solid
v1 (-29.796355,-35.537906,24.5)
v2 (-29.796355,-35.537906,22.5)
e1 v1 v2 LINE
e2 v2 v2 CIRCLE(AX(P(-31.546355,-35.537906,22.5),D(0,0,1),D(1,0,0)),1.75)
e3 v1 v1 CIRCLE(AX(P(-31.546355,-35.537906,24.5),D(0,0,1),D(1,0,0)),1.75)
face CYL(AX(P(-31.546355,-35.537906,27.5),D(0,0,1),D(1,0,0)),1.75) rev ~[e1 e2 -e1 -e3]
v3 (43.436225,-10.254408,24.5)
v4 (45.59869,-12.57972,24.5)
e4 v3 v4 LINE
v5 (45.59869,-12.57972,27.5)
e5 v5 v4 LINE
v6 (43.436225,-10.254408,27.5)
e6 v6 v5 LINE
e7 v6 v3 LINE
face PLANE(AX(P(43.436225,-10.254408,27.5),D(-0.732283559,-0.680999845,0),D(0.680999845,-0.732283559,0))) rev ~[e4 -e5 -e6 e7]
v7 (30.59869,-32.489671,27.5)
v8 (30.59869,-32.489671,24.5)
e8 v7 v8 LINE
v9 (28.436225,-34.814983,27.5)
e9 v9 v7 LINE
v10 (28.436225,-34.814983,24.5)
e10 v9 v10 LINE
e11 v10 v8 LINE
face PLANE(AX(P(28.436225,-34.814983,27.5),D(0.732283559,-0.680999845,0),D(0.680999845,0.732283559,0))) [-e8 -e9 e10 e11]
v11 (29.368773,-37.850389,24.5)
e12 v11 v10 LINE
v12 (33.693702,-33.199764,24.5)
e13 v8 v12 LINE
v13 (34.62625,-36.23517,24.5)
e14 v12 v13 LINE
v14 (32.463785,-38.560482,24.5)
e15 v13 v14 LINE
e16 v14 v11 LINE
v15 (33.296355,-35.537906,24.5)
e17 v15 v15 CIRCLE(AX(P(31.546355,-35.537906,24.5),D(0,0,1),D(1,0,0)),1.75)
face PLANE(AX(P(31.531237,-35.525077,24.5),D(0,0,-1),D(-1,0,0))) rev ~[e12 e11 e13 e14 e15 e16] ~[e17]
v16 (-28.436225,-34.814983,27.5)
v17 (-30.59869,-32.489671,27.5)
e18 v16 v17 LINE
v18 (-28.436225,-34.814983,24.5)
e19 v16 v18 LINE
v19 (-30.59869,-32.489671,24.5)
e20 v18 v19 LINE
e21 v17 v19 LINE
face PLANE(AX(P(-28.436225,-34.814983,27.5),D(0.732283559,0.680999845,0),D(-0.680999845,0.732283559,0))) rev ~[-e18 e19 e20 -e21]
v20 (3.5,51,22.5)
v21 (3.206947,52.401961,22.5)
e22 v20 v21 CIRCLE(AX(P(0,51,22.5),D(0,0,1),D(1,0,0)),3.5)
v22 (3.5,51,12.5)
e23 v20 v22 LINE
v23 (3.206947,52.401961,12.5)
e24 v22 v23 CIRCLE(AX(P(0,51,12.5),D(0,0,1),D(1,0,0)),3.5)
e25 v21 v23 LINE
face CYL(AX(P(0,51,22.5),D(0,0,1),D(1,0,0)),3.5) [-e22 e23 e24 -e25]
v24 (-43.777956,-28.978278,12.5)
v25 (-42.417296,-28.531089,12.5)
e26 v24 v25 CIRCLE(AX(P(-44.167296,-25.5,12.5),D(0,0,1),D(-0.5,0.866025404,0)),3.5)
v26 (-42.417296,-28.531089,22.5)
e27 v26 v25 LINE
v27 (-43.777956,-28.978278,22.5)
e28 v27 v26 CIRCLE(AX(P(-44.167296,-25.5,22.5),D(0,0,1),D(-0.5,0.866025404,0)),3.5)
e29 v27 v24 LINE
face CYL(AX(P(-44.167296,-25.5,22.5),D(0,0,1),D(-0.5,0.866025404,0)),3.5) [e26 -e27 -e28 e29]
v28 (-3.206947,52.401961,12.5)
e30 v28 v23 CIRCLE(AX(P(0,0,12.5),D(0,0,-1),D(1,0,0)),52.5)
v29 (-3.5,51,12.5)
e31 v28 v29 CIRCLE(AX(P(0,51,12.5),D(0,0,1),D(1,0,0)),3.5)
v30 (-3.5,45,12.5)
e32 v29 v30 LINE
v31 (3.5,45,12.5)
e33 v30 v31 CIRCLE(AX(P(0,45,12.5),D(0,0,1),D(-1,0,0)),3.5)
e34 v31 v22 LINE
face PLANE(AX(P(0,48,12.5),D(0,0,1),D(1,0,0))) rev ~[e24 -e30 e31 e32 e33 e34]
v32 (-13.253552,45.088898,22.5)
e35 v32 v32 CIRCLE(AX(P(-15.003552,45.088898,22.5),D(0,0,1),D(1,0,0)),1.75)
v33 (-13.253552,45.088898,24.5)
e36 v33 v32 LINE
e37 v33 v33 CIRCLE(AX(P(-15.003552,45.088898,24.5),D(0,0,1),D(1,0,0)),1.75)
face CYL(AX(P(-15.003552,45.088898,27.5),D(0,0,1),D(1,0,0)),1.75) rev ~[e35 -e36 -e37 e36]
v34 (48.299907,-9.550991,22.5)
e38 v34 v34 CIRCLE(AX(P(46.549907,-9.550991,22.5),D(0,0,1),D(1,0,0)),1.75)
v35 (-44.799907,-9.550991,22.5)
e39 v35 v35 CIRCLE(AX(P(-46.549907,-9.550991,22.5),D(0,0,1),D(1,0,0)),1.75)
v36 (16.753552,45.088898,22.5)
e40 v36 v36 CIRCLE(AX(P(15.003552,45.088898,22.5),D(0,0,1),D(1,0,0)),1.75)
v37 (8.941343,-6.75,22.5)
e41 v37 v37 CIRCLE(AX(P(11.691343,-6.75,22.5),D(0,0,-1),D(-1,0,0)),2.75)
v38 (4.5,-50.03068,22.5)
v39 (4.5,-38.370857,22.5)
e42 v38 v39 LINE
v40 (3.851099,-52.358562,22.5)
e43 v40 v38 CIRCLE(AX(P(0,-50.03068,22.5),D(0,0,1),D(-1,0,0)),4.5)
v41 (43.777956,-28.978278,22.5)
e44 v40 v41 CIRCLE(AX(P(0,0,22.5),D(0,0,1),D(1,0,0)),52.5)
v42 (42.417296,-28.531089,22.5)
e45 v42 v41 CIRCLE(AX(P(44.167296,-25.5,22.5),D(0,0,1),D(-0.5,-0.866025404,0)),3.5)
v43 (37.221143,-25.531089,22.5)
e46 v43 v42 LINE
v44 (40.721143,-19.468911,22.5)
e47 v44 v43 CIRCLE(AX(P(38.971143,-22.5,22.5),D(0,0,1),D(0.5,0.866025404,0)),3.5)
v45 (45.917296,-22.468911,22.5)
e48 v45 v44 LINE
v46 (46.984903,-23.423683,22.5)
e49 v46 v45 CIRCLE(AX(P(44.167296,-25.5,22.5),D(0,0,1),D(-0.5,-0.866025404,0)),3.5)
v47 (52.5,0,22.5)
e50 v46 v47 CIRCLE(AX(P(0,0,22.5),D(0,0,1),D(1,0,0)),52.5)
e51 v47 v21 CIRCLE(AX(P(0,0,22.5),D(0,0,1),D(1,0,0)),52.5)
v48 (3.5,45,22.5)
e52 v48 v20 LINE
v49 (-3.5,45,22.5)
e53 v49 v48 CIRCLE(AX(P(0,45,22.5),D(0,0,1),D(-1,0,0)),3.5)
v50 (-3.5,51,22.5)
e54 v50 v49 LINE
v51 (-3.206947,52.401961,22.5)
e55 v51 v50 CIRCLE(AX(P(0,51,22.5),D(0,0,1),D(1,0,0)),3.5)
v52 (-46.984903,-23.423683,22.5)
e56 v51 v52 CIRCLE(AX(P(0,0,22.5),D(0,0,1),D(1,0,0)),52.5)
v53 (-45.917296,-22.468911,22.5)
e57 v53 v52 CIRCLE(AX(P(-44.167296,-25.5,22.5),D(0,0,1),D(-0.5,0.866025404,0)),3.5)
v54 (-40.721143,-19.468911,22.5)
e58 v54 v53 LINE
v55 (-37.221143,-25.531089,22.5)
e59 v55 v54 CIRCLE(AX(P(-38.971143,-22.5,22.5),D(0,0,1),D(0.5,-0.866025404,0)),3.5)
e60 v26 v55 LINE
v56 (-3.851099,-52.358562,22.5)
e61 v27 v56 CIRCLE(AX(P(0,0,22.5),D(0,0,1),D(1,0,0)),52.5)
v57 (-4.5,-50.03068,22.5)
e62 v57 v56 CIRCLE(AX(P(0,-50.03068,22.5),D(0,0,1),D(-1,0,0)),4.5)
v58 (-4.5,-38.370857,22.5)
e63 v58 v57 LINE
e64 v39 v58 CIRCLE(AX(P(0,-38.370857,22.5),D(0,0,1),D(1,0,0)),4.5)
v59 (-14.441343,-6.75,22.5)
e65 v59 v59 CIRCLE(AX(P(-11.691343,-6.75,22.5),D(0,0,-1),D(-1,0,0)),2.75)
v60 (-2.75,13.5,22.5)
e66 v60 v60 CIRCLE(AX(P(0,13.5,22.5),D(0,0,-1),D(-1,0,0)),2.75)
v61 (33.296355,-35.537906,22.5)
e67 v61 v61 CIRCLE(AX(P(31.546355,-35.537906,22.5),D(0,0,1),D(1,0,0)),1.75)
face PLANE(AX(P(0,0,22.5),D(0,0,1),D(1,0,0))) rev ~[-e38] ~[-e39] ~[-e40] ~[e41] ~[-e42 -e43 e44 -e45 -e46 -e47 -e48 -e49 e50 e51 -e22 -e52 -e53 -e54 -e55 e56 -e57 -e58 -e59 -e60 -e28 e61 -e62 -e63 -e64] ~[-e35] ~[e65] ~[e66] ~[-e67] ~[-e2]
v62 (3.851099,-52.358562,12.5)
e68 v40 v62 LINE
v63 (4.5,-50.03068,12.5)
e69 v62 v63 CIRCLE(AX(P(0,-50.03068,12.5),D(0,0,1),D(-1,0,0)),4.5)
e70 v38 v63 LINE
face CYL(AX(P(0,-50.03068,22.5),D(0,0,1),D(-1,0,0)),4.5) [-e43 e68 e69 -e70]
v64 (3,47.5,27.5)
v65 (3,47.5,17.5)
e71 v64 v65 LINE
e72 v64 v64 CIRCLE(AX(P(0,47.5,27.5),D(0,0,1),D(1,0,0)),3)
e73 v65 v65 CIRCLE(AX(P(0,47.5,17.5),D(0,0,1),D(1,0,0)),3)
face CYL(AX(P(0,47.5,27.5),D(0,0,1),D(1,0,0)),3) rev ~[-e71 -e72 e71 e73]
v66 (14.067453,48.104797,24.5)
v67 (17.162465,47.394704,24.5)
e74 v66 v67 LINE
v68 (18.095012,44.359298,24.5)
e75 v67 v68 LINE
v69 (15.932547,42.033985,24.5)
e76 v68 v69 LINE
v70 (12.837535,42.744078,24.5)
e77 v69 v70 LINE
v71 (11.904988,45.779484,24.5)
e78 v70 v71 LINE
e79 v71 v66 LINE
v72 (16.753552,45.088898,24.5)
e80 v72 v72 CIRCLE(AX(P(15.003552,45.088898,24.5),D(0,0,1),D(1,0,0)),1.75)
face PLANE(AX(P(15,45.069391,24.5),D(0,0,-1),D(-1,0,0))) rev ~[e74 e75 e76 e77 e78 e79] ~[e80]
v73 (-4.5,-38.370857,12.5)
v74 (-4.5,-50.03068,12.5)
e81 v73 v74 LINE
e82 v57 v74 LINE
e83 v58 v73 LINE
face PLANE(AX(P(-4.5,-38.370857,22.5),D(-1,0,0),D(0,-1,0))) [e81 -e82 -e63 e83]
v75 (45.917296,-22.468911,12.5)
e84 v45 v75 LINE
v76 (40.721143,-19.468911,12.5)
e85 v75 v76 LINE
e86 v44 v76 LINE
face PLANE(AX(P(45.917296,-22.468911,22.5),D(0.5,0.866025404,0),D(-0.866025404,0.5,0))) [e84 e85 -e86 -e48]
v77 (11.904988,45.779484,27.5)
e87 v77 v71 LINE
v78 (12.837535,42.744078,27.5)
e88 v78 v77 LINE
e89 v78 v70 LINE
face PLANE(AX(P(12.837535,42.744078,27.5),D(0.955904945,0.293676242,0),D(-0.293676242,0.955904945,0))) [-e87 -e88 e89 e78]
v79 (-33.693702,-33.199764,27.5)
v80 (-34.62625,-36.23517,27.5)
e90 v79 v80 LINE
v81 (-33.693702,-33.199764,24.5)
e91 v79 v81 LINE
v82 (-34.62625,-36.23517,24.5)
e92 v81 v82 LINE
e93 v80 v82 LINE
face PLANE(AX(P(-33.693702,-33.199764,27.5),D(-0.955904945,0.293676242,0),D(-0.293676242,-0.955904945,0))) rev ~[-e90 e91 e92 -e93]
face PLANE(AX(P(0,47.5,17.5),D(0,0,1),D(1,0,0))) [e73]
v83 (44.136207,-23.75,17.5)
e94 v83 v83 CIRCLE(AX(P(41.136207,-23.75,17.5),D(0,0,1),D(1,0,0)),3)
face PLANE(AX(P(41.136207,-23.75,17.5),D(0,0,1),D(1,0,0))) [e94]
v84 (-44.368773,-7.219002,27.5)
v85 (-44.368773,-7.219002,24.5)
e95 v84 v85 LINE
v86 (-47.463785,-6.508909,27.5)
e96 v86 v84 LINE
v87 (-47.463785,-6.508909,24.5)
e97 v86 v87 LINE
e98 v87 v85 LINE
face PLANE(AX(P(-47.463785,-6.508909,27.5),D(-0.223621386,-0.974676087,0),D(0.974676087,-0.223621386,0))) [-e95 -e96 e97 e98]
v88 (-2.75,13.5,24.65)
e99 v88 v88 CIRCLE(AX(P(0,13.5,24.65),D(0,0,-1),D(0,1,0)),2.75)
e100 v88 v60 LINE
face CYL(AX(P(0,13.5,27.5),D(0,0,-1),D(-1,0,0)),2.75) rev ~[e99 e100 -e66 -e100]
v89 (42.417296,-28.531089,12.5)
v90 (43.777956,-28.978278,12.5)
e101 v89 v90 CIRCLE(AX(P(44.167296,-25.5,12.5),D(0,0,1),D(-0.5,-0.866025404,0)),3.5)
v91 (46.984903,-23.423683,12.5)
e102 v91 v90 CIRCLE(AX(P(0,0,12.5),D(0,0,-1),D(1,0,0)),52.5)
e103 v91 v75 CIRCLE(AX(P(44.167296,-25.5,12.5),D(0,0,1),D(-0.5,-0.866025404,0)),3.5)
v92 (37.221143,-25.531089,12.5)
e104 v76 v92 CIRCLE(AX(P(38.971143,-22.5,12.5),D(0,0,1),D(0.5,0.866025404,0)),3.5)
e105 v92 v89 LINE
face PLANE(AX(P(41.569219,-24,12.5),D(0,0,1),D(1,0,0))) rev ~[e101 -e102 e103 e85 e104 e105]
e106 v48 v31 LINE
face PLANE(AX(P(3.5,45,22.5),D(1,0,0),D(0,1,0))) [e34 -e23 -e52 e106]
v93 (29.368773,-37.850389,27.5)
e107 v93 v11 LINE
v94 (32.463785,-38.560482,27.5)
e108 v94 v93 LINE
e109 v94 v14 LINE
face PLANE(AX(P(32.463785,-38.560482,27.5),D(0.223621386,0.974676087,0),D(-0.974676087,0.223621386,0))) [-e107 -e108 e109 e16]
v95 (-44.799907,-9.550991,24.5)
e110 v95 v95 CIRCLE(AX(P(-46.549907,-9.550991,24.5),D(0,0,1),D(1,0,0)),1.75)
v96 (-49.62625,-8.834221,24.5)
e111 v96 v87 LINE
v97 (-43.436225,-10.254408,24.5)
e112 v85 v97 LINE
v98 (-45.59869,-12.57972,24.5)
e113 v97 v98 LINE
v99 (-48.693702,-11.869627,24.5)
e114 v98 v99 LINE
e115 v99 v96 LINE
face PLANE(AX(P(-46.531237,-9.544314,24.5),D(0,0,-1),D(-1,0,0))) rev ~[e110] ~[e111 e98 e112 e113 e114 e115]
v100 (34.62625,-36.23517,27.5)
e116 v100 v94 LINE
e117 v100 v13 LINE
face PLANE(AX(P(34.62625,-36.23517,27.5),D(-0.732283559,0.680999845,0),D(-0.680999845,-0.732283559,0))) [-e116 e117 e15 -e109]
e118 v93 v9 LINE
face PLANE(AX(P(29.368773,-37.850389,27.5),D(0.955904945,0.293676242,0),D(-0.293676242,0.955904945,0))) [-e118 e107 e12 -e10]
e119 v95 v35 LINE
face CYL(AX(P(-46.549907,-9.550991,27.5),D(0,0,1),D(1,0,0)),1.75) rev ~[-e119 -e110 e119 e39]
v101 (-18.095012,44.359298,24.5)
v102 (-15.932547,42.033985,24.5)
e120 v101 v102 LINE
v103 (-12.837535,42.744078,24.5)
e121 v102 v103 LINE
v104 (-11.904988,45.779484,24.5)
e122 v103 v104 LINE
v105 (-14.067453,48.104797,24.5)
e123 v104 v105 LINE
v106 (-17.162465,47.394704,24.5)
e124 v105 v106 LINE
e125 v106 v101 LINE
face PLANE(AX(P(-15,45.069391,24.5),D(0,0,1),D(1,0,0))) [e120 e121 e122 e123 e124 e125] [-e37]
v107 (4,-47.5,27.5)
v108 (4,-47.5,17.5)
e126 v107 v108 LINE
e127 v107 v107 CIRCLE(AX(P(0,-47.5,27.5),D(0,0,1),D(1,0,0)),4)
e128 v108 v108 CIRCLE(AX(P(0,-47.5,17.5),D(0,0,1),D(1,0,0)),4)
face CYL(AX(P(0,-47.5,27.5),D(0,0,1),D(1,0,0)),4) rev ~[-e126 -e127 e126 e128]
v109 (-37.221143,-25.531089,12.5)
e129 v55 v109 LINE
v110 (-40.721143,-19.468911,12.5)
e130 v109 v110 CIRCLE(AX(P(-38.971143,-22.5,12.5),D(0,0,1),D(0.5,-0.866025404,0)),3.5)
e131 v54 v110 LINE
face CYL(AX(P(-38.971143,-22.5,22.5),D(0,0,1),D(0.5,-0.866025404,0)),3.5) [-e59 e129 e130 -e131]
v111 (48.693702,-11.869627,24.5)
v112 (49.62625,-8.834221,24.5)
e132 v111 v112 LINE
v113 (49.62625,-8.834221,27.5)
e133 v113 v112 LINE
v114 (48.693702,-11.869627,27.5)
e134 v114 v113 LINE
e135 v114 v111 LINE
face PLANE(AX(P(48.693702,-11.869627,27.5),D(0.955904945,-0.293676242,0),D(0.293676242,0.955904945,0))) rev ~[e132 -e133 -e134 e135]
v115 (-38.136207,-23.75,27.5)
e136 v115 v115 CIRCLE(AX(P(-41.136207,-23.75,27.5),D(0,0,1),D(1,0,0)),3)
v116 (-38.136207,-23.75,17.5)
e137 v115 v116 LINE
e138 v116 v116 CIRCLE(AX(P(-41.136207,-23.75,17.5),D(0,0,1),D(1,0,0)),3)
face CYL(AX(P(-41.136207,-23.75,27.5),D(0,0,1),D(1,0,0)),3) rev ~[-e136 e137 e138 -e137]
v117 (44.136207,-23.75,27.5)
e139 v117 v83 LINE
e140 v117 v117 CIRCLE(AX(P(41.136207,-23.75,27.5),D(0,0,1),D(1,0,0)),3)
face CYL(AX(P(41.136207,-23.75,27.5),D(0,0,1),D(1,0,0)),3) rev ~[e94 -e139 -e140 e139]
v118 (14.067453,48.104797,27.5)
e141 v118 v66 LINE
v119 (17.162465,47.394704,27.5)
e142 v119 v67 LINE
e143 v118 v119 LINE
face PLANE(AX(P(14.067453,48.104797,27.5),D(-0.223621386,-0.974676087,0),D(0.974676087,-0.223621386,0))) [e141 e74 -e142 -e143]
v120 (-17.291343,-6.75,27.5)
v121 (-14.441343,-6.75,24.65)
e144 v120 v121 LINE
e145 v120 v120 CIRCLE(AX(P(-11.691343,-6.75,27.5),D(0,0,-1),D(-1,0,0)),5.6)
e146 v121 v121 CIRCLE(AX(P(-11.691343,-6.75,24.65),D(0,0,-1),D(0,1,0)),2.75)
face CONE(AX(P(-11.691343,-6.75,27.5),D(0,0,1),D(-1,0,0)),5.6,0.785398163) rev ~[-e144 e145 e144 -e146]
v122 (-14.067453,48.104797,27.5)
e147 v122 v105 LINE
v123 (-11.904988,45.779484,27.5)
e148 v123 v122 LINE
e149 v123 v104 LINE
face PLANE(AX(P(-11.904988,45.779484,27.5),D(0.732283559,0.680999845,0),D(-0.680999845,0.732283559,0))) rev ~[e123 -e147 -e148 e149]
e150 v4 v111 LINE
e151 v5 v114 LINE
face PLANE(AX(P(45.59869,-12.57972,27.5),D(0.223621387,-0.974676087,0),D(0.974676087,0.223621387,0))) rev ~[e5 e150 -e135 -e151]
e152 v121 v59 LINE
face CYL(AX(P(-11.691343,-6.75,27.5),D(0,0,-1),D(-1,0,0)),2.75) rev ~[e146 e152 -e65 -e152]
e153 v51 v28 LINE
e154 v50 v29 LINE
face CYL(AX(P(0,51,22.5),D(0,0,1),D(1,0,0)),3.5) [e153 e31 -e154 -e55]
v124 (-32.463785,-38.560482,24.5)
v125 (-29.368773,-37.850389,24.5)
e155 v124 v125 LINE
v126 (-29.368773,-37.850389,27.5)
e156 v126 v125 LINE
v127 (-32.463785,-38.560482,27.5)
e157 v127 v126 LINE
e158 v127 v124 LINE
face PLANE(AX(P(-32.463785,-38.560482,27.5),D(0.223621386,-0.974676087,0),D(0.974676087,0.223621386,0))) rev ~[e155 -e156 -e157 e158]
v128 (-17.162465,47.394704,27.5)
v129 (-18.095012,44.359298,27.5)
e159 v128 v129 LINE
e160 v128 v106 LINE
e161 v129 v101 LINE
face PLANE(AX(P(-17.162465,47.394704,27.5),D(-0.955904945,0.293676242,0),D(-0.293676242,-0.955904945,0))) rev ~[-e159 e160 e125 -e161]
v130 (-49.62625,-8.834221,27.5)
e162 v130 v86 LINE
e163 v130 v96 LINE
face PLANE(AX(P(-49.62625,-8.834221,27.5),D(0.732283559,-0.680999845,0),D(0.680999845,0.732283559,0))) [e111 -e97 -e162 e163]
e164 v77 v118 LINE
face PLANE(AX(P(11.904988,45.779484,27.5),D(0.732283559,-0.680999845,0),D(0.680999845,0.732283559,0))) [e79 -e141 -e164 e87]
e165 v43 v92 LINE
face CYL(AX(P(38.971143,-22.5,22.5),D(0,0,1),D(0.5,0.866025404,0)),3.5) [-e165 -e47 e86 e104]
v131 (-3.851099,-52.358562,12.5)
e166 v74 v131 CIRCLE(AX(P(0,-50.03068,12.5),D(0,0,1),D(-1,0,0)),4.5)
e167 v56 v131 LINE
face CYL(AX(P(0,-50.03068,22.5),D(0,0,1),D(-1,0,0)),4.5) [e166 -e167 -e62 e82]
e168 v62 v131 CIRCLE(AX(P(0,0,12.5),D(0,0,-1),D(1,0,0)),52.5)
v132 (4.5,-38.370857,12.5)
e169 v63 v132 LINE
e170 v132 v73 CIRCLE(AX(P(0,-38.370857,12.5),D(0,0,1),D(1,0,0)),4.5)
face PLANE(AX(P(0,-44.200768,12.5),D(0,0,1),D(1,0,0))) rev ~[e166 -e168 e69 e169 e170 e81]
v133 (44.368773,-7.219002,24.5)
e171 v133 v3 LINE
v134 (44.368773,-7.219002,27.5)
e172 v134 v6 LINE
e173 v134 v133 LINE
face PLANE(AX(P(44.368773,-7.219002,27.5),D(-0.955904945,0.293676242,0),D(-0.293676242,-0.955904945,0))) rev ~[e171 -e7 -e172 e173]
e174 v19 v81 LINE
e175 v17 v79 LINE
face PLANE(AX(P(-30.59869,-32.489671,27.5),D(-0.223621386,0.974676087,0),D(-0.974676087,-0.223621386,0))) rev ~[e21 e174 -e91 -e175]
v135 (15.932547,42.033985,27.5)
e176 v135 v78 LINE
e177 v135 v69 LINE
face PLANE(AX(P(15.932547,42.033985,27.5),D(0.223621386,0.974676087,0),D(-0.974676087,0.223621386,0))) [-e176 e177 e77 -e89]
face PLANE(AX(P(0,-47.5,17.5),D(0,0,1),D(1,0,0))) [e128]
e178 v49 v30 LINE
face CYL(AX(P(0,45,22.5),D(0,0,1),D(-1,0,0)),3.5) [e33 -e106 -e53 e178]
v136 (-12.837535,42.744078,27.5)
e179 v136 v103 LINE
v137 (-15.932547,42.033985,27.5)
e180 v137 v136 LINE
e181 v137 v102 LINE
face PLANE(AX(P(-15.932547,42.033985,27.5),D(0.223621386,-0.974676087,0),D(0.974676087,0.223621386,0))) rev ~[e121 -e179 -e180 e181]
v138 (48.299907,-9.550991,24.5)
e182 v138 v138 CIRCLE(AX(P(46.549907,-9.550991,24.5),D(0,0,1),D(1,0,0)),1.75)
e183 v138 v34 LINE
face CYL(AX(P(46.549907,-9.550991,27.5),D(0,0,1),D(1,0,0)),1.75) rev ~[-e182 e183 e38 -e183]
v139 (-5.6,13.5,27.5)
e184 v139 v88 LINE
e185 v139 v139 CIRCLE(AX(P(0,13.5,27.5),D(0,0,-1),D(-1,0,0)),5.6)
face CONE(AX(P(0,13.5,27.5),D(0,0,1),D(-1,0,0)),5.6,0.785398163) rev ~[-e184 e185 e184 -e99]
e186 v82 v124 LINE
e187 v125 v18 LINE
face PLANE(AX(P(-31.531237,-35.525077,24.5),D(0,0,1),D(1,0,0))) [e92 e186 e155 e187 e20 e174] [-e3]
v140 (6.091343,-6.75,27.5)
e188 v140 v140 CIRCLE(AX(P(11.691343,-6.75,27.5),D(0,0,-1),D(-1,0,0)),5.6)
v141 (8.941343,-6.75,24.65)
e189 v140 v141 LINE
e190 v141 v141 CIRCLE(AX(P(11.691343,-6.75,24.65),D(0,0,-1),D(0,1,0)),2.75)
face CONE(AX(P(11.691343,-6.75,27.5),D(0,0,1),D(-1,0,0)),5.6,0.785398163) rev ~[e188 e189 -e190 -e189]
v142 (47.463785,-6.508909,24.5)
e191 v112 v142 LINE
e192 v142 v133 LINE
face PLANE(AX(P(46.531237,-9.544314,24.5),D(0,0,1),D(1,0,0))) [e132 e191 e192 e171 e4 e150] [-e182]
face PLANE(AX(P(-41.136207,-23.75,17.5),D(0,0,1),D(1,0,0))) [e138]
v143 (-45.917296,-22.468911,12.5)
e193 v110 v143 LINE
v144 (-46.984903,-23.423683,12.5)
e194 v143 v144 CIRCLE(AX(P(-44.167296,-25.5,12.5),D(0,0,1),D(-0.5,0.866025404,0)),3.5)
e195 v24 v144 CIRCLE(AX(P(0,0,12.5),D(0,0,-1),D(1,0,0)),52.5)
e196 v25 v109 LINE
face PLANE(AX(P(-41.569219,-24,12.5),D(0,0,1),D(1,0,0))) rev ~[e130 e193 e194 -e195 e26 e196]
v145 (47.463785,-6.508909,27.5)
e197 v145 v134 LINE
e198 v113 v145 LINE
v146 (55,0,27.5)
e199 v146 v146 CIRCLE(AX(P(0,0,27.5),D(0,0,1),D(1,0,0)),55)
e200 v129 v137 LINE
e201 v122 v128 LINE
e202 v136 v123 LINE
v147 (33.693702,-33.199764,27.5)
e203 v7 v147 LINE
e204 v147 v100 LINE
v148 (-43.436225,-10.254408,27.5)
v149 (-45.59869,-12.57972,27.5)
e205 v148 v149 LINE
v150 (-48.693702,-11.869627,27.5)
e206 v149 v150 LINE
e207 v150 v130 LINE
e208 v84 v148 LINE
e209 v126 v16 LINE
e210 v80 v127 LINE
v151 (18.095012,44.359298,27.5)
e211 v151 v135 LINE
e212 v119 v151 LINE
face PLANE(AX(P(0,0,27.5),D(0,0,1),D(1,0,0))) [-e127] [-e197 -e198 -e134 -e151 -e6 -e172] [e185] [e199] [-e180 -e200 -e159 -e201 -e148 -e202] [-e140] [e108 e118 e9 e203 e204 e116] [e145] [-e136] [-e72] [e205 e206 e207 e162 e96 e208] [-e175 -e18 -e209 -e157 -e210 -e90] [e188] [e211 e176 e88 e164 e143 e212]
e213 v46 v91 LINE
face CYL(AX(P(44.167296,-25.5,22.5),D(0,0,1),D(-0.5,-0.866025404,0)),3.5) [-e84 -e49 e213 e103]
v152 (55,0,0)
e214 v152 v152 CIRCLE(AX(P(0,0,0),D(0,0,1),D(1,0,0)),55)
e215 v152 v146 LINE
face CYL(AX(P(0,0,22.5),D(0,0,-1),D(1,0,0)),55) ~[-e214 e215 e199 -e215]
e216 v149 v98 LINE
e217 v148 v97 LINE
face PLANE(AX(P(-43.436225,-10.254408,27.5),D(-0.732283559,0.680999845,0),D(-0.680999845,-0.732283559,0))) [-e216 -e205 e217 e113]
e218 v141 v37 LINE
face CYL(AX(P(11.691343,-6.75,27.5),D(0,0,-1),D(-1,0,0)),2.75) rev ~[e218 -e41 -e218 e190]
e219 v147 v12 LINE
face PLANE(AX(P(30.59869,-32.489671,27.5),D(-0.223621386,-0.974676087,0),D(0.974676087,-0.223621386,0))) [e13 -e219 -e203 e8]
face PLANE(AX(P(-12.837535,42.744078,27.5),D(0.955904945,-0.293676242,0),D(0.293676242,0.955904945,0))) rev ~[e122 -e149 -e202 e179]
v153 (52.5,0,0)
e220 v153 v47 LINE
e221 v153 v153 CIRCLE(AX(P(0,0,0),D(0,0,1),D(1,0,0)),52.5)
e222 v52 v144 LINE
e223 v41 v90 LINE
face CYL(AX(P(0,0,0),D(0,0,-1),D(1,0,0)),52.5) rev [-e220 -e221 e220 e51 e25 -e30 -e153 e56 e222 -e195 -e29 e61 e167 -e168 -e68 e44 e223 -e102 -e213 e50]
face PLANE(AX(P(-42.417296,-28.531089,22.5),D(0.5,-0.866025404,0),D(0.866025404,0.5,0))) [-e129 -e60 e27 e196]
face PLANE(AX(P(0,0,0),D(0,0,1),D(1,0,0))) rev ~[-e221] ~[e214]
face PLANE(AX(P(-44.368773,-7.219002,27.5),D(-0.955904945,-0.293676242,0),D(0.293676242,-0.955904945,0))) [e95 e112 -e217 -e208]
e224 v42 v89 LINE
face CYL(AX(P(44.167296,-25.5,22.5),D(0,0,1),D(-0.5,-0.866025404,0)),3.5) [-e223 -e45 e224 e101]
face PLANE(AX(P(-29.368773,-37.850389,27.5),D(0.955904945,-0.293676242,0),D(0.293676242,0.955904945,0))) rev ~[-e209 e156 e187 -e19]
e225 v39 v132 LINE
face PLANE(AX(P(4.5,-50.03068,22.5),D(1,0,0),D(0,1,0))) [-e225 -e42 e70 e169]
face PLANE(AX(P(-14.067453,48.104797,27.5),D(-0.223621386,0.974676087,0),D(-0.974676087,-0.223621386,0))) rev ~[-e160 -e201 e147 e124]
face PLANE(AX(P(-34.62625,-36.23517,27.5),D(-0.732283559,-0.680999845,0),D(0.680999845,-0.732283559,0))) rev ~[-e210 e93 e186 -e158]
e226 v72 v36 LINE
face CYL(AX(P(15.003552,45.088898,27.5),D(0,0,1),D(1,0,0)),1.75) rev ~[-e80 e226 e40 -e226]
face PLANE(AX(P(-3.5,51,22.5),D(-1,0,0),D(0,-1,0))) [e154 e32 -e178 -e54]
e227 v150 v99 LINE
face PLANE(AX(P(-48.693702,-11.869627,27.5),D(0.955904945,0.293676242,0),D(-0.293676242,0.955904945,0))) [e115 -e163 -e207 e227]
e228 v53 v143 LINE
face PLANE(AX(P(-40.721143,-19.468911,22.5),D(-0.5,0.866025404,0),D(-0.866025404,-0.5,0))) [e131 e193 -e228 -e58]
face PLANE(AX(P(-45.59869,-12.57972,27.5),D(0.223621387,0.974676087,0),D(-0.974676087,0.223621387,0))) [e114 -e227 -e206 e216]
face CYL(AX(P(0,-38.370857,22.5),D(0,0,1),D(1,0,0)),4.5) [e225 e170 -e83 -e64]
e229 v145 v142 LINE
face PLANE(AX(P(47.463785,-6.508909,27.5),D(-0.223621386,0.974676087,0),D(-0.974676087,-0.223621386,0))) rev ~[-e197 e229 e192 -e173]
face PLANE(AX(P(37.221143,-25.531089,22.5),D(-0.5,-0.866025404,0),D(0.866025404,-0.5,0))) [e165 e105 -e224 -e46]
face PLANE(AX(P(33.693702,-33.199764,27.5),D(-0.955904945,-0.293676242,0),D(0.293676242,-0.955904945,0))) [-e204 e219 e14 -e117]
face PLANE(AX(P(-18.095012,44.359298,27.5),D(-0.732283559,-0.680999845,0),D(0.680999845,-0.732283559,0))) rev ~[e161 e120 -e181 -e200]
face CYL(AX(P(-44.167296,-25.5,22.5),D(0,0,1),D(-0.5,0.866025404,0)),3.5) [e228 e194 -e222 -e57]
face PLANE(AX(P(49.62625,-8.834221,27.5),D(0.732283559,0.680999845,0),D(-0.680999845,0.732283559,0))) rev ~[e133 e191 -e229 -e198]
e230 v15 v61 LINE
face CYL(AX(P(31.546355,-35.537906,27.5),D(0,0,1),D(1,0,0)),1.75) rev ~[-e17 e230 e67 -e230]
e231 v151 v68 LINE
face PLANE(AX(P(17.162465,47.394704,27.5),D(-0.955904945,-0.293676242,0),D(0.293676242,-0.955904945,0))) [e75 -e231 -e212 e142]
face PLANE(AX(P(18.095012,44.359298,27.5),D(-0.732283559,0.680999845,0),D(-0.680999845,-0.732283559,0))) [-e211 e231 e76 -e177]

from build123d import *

# Parameters (mm, degrees)
CROQUIS1_R                                           = 55
CROQUIS1_R_2                                         = 52.5
SALIENTE_EXTRUIR1_DEPTH                              = 22.5
CROQUIS2_R                                           = 55
SALIENTE_EXTRUIR2_DEPTH                              = 5
REFRENTADO_PARA_TORNILLO_TAP_N_CON_CABEZ_D           = 5.5
REFRENTADO_PARA_TORNILLO_TAP_N_CON_CABEZ_CSINK_D     = 11.2
REFRENTADO_PARA_TORNILLO_TAP_N_CON_CABEZ_CSINK_ANGLE = 90
SALIENTE_EXTRUIR8_DEPTH                              = 10
CROQUIS12_R                                          = 3
CROQUIS12_R_2                                        = 4
CORTAR_EXTRUIR4_DEPTH                                = 10
CORTAR_EXTRUIR6_DEPTH                                = 3
CROQUIS16_R                                          = 1.75
CORTAR_EXTRUIR7_DEPTH                                = 5


with BuildPart() as part:
    # Croquis1 → Saliente-Extruir1 (new body)
    with BuildSketch(Plane.XY):
        Circle(CROQUIS1_R)
        Circle(CROQUIS1_R_2, mode=Mode.SUBTRACT)
    extrude(amount=SALIENTE_EXTRUIR1_DEPTH)

    # Croquis2 → Saliente-Extruir2 (add)
    with BuildSketch(Plane.XY.offset(22.5)):
        Circle(CROQUIS2_R)
    extrude(amount=SALIENTE_EXTRUIR2_DEPTH)

    # Refrentado para tornillo tapón con cabeza plana de clavija de M51 (through all)
    with Locations(Plane.XY.offset(27.5)):
        with Locations((0, 13.5), (-11.691342951, -6.75), (11.691342951, -6.75)):
            CounterSinkHole(REFRENTADO_PARA_TORNILLO_TAP_N_CON_CABEZ_D / 2, REFRENTADO_PARA_TORNILLO_TAP_N_CON_CABEZ_CSINK_D / 2, counter_sink_angle=REFRENTADO_PARA_TORNILLO_TAP_N_CON_CABEZ_CSINK_ANGLE)

    # Croquis10 → Saliente-Extruir8 (add)
    with BuildSketch(Plane(origin=(0, 0, 22.5), x_dir=(-1, 0, 0), z_dir=(0, 0, -1))):
        with BuildLine():
            Line((-3.5, 45), (-3.5, 51))
            ThreePointArc((-3.5, 51), (0, 54.5), (3.5, 51))
            Line((3.5, 51), (3.5, 45))
            ThreePointArc((3.5, 45), (0, 41.5), (-3.5, 45))
        make_face()
        with BuildLine():
            Line((40.72114317, -19.468911087), (45.917295593, -22.468911087))
            ThreePointArc((45.917295593, -22.468911087), (47.198384506, -27.25), (42.417295593, -28.531088913))
            Line((42.417295593, -28.531088913), (37.22114317, -25.531088913))
            ThreePointArc((37.22114317, -25.531088913), (35.940054257, -20.75), (40.72114317, -19.468911087))
        make_face()
        with BuildLine():
            Line((-37.22114317, -25.531088913), (-42.417295593, -28.531088913))
            ThreePointArc((-42.417295593, -28.531088913), (-47.198384506, -27.25), (-45.917295593, -22.468911087))
            Line((-45.917295593, -22.468911087), (-40.72114317, -19.468911087))
            ThreePointArc((-40.72114317, -19.468911087), (-35.940054257, -20.75), (-37.22114317, -25.531088913))
        make_face()
        with BuildLine():
            Line((-4.5, -50.030679936), (-4.5, -38.370856831))
            ThreePointArc((-4.5, -38.370856831), (0, -33.870856831), (4.5, -38.370856831))
            Line((4.5, -38.370856831), (4.5, -50.030679936))
            ThreePointArc((4.5, -50.030679936), (0, -54.530679936), (-4.5, -50.030679936))
        make_face()
    extrude(amount=SALIENTE_EXTRUIR8_DEPTH)

    # Croquis12 → Cortar-Extruir4 (cut)
    with BuildSketch(Plane.XY.offset(27.5)):
        with Locations((0, 47.5)):
            Circle(CROQUIS12_R)
        with Locations((41.13620668, -23.75)):
            Circle(CROQUIS12_R)
        with Locations((-41.13620668, -23.75)):
            Circle(CROQUIS12_R)
        with Locations((0, -47.5)):
            Circle(CROQUIS12_R_2)
    extrude(amount=-CORTAR_EXTRUIR4_DEPTH, mode=Mode.SUBTRACT)

    # Croquis15 → Cortar-Extruir6 (cut)
    with BuildSketch(Plane.XY.offset(27.5)):
        Polygon((-11.904987742, 45.779484215), (-14.067452684, 48.10479682), (-17.162464942, 47.394703548), (-18.095012258, 44.359297671), (-15.932547316, 42.033985067), (-12.837535058, 42.744078339), align=None)
        Polygon((18.095012258, 44.359297671), (15.932547316, 42.033985067), (12.837535058, 42.744078339), (11.904987742, 45.779484215), (14.067452684, 48.10479682), (17.162464942, 47.394703548), align=None)
        Polygon((44.368772548, -7.21900181), (43.436225232, -10.254407687), (45.598690174, -12.579720292), (48.693702432, -11.869627019), (49.626249748, -8.834221143), (47.463784806, -6.508908538), align=None)
        Polygon((34.626249748, -36.235169801), (32.463784806, -38.560482405), (29.368772548, -37.850389133), (28.436225232, -34.814983256), (30.598690174, -32.489670652), (33.693702432, -33.199763924), align=None)
        Polygon((-28.436225232, -34.814983256), (-30.598690174, -32.489670652), (-33.693702432, -33.199763924), (-34.626249748, -36.235169801), (-32.463784806, -38.560482405), (-29.368772548, -37.850389133), align=None)
        Polygon((-48.693702432, -11.869627019), (-49.626249748, -8.834221143), (-47.463784806, -6.508908538), (-44.368772548, -7.21900181), (-43.436225232, -10.254407687), (-45.598690174, -12.579720292), align=None)
    extrude(amount=-CORTAR_EXTRUIR6_DEPTH, mode=Mode.SUBTRACT)

    # Croquis16 → Cortar-Extruir7 (cut)
    with BuildSketch(Plane.XY.offset(27.5)):
        with Locations((-15.003552118, 45.088897544)):
            Circle(CROQUIS16_R)
        with Locations((15.003552118, 45.088897544)):
            Circle(CROQUIS16_R)
        with Locations((46.549906761, -9.55099149)):
            Circle(CROQUIS16_R)
        with Locations((31.546354642, -35.537906053)):
            Circle(CROQUIS16_R)
        with Locations((-31.546354642, -35.537906053)):
            Circle(CROQUIS16_R)
        with Locations((-46.549906761, -9.55099149)):
            Circle(CROQUIS16_R)
    extrude(amount=-CORTAR_EXTRUIR7_DEPTH, mode=Mode.SUBTRACT)


solid = part.part
